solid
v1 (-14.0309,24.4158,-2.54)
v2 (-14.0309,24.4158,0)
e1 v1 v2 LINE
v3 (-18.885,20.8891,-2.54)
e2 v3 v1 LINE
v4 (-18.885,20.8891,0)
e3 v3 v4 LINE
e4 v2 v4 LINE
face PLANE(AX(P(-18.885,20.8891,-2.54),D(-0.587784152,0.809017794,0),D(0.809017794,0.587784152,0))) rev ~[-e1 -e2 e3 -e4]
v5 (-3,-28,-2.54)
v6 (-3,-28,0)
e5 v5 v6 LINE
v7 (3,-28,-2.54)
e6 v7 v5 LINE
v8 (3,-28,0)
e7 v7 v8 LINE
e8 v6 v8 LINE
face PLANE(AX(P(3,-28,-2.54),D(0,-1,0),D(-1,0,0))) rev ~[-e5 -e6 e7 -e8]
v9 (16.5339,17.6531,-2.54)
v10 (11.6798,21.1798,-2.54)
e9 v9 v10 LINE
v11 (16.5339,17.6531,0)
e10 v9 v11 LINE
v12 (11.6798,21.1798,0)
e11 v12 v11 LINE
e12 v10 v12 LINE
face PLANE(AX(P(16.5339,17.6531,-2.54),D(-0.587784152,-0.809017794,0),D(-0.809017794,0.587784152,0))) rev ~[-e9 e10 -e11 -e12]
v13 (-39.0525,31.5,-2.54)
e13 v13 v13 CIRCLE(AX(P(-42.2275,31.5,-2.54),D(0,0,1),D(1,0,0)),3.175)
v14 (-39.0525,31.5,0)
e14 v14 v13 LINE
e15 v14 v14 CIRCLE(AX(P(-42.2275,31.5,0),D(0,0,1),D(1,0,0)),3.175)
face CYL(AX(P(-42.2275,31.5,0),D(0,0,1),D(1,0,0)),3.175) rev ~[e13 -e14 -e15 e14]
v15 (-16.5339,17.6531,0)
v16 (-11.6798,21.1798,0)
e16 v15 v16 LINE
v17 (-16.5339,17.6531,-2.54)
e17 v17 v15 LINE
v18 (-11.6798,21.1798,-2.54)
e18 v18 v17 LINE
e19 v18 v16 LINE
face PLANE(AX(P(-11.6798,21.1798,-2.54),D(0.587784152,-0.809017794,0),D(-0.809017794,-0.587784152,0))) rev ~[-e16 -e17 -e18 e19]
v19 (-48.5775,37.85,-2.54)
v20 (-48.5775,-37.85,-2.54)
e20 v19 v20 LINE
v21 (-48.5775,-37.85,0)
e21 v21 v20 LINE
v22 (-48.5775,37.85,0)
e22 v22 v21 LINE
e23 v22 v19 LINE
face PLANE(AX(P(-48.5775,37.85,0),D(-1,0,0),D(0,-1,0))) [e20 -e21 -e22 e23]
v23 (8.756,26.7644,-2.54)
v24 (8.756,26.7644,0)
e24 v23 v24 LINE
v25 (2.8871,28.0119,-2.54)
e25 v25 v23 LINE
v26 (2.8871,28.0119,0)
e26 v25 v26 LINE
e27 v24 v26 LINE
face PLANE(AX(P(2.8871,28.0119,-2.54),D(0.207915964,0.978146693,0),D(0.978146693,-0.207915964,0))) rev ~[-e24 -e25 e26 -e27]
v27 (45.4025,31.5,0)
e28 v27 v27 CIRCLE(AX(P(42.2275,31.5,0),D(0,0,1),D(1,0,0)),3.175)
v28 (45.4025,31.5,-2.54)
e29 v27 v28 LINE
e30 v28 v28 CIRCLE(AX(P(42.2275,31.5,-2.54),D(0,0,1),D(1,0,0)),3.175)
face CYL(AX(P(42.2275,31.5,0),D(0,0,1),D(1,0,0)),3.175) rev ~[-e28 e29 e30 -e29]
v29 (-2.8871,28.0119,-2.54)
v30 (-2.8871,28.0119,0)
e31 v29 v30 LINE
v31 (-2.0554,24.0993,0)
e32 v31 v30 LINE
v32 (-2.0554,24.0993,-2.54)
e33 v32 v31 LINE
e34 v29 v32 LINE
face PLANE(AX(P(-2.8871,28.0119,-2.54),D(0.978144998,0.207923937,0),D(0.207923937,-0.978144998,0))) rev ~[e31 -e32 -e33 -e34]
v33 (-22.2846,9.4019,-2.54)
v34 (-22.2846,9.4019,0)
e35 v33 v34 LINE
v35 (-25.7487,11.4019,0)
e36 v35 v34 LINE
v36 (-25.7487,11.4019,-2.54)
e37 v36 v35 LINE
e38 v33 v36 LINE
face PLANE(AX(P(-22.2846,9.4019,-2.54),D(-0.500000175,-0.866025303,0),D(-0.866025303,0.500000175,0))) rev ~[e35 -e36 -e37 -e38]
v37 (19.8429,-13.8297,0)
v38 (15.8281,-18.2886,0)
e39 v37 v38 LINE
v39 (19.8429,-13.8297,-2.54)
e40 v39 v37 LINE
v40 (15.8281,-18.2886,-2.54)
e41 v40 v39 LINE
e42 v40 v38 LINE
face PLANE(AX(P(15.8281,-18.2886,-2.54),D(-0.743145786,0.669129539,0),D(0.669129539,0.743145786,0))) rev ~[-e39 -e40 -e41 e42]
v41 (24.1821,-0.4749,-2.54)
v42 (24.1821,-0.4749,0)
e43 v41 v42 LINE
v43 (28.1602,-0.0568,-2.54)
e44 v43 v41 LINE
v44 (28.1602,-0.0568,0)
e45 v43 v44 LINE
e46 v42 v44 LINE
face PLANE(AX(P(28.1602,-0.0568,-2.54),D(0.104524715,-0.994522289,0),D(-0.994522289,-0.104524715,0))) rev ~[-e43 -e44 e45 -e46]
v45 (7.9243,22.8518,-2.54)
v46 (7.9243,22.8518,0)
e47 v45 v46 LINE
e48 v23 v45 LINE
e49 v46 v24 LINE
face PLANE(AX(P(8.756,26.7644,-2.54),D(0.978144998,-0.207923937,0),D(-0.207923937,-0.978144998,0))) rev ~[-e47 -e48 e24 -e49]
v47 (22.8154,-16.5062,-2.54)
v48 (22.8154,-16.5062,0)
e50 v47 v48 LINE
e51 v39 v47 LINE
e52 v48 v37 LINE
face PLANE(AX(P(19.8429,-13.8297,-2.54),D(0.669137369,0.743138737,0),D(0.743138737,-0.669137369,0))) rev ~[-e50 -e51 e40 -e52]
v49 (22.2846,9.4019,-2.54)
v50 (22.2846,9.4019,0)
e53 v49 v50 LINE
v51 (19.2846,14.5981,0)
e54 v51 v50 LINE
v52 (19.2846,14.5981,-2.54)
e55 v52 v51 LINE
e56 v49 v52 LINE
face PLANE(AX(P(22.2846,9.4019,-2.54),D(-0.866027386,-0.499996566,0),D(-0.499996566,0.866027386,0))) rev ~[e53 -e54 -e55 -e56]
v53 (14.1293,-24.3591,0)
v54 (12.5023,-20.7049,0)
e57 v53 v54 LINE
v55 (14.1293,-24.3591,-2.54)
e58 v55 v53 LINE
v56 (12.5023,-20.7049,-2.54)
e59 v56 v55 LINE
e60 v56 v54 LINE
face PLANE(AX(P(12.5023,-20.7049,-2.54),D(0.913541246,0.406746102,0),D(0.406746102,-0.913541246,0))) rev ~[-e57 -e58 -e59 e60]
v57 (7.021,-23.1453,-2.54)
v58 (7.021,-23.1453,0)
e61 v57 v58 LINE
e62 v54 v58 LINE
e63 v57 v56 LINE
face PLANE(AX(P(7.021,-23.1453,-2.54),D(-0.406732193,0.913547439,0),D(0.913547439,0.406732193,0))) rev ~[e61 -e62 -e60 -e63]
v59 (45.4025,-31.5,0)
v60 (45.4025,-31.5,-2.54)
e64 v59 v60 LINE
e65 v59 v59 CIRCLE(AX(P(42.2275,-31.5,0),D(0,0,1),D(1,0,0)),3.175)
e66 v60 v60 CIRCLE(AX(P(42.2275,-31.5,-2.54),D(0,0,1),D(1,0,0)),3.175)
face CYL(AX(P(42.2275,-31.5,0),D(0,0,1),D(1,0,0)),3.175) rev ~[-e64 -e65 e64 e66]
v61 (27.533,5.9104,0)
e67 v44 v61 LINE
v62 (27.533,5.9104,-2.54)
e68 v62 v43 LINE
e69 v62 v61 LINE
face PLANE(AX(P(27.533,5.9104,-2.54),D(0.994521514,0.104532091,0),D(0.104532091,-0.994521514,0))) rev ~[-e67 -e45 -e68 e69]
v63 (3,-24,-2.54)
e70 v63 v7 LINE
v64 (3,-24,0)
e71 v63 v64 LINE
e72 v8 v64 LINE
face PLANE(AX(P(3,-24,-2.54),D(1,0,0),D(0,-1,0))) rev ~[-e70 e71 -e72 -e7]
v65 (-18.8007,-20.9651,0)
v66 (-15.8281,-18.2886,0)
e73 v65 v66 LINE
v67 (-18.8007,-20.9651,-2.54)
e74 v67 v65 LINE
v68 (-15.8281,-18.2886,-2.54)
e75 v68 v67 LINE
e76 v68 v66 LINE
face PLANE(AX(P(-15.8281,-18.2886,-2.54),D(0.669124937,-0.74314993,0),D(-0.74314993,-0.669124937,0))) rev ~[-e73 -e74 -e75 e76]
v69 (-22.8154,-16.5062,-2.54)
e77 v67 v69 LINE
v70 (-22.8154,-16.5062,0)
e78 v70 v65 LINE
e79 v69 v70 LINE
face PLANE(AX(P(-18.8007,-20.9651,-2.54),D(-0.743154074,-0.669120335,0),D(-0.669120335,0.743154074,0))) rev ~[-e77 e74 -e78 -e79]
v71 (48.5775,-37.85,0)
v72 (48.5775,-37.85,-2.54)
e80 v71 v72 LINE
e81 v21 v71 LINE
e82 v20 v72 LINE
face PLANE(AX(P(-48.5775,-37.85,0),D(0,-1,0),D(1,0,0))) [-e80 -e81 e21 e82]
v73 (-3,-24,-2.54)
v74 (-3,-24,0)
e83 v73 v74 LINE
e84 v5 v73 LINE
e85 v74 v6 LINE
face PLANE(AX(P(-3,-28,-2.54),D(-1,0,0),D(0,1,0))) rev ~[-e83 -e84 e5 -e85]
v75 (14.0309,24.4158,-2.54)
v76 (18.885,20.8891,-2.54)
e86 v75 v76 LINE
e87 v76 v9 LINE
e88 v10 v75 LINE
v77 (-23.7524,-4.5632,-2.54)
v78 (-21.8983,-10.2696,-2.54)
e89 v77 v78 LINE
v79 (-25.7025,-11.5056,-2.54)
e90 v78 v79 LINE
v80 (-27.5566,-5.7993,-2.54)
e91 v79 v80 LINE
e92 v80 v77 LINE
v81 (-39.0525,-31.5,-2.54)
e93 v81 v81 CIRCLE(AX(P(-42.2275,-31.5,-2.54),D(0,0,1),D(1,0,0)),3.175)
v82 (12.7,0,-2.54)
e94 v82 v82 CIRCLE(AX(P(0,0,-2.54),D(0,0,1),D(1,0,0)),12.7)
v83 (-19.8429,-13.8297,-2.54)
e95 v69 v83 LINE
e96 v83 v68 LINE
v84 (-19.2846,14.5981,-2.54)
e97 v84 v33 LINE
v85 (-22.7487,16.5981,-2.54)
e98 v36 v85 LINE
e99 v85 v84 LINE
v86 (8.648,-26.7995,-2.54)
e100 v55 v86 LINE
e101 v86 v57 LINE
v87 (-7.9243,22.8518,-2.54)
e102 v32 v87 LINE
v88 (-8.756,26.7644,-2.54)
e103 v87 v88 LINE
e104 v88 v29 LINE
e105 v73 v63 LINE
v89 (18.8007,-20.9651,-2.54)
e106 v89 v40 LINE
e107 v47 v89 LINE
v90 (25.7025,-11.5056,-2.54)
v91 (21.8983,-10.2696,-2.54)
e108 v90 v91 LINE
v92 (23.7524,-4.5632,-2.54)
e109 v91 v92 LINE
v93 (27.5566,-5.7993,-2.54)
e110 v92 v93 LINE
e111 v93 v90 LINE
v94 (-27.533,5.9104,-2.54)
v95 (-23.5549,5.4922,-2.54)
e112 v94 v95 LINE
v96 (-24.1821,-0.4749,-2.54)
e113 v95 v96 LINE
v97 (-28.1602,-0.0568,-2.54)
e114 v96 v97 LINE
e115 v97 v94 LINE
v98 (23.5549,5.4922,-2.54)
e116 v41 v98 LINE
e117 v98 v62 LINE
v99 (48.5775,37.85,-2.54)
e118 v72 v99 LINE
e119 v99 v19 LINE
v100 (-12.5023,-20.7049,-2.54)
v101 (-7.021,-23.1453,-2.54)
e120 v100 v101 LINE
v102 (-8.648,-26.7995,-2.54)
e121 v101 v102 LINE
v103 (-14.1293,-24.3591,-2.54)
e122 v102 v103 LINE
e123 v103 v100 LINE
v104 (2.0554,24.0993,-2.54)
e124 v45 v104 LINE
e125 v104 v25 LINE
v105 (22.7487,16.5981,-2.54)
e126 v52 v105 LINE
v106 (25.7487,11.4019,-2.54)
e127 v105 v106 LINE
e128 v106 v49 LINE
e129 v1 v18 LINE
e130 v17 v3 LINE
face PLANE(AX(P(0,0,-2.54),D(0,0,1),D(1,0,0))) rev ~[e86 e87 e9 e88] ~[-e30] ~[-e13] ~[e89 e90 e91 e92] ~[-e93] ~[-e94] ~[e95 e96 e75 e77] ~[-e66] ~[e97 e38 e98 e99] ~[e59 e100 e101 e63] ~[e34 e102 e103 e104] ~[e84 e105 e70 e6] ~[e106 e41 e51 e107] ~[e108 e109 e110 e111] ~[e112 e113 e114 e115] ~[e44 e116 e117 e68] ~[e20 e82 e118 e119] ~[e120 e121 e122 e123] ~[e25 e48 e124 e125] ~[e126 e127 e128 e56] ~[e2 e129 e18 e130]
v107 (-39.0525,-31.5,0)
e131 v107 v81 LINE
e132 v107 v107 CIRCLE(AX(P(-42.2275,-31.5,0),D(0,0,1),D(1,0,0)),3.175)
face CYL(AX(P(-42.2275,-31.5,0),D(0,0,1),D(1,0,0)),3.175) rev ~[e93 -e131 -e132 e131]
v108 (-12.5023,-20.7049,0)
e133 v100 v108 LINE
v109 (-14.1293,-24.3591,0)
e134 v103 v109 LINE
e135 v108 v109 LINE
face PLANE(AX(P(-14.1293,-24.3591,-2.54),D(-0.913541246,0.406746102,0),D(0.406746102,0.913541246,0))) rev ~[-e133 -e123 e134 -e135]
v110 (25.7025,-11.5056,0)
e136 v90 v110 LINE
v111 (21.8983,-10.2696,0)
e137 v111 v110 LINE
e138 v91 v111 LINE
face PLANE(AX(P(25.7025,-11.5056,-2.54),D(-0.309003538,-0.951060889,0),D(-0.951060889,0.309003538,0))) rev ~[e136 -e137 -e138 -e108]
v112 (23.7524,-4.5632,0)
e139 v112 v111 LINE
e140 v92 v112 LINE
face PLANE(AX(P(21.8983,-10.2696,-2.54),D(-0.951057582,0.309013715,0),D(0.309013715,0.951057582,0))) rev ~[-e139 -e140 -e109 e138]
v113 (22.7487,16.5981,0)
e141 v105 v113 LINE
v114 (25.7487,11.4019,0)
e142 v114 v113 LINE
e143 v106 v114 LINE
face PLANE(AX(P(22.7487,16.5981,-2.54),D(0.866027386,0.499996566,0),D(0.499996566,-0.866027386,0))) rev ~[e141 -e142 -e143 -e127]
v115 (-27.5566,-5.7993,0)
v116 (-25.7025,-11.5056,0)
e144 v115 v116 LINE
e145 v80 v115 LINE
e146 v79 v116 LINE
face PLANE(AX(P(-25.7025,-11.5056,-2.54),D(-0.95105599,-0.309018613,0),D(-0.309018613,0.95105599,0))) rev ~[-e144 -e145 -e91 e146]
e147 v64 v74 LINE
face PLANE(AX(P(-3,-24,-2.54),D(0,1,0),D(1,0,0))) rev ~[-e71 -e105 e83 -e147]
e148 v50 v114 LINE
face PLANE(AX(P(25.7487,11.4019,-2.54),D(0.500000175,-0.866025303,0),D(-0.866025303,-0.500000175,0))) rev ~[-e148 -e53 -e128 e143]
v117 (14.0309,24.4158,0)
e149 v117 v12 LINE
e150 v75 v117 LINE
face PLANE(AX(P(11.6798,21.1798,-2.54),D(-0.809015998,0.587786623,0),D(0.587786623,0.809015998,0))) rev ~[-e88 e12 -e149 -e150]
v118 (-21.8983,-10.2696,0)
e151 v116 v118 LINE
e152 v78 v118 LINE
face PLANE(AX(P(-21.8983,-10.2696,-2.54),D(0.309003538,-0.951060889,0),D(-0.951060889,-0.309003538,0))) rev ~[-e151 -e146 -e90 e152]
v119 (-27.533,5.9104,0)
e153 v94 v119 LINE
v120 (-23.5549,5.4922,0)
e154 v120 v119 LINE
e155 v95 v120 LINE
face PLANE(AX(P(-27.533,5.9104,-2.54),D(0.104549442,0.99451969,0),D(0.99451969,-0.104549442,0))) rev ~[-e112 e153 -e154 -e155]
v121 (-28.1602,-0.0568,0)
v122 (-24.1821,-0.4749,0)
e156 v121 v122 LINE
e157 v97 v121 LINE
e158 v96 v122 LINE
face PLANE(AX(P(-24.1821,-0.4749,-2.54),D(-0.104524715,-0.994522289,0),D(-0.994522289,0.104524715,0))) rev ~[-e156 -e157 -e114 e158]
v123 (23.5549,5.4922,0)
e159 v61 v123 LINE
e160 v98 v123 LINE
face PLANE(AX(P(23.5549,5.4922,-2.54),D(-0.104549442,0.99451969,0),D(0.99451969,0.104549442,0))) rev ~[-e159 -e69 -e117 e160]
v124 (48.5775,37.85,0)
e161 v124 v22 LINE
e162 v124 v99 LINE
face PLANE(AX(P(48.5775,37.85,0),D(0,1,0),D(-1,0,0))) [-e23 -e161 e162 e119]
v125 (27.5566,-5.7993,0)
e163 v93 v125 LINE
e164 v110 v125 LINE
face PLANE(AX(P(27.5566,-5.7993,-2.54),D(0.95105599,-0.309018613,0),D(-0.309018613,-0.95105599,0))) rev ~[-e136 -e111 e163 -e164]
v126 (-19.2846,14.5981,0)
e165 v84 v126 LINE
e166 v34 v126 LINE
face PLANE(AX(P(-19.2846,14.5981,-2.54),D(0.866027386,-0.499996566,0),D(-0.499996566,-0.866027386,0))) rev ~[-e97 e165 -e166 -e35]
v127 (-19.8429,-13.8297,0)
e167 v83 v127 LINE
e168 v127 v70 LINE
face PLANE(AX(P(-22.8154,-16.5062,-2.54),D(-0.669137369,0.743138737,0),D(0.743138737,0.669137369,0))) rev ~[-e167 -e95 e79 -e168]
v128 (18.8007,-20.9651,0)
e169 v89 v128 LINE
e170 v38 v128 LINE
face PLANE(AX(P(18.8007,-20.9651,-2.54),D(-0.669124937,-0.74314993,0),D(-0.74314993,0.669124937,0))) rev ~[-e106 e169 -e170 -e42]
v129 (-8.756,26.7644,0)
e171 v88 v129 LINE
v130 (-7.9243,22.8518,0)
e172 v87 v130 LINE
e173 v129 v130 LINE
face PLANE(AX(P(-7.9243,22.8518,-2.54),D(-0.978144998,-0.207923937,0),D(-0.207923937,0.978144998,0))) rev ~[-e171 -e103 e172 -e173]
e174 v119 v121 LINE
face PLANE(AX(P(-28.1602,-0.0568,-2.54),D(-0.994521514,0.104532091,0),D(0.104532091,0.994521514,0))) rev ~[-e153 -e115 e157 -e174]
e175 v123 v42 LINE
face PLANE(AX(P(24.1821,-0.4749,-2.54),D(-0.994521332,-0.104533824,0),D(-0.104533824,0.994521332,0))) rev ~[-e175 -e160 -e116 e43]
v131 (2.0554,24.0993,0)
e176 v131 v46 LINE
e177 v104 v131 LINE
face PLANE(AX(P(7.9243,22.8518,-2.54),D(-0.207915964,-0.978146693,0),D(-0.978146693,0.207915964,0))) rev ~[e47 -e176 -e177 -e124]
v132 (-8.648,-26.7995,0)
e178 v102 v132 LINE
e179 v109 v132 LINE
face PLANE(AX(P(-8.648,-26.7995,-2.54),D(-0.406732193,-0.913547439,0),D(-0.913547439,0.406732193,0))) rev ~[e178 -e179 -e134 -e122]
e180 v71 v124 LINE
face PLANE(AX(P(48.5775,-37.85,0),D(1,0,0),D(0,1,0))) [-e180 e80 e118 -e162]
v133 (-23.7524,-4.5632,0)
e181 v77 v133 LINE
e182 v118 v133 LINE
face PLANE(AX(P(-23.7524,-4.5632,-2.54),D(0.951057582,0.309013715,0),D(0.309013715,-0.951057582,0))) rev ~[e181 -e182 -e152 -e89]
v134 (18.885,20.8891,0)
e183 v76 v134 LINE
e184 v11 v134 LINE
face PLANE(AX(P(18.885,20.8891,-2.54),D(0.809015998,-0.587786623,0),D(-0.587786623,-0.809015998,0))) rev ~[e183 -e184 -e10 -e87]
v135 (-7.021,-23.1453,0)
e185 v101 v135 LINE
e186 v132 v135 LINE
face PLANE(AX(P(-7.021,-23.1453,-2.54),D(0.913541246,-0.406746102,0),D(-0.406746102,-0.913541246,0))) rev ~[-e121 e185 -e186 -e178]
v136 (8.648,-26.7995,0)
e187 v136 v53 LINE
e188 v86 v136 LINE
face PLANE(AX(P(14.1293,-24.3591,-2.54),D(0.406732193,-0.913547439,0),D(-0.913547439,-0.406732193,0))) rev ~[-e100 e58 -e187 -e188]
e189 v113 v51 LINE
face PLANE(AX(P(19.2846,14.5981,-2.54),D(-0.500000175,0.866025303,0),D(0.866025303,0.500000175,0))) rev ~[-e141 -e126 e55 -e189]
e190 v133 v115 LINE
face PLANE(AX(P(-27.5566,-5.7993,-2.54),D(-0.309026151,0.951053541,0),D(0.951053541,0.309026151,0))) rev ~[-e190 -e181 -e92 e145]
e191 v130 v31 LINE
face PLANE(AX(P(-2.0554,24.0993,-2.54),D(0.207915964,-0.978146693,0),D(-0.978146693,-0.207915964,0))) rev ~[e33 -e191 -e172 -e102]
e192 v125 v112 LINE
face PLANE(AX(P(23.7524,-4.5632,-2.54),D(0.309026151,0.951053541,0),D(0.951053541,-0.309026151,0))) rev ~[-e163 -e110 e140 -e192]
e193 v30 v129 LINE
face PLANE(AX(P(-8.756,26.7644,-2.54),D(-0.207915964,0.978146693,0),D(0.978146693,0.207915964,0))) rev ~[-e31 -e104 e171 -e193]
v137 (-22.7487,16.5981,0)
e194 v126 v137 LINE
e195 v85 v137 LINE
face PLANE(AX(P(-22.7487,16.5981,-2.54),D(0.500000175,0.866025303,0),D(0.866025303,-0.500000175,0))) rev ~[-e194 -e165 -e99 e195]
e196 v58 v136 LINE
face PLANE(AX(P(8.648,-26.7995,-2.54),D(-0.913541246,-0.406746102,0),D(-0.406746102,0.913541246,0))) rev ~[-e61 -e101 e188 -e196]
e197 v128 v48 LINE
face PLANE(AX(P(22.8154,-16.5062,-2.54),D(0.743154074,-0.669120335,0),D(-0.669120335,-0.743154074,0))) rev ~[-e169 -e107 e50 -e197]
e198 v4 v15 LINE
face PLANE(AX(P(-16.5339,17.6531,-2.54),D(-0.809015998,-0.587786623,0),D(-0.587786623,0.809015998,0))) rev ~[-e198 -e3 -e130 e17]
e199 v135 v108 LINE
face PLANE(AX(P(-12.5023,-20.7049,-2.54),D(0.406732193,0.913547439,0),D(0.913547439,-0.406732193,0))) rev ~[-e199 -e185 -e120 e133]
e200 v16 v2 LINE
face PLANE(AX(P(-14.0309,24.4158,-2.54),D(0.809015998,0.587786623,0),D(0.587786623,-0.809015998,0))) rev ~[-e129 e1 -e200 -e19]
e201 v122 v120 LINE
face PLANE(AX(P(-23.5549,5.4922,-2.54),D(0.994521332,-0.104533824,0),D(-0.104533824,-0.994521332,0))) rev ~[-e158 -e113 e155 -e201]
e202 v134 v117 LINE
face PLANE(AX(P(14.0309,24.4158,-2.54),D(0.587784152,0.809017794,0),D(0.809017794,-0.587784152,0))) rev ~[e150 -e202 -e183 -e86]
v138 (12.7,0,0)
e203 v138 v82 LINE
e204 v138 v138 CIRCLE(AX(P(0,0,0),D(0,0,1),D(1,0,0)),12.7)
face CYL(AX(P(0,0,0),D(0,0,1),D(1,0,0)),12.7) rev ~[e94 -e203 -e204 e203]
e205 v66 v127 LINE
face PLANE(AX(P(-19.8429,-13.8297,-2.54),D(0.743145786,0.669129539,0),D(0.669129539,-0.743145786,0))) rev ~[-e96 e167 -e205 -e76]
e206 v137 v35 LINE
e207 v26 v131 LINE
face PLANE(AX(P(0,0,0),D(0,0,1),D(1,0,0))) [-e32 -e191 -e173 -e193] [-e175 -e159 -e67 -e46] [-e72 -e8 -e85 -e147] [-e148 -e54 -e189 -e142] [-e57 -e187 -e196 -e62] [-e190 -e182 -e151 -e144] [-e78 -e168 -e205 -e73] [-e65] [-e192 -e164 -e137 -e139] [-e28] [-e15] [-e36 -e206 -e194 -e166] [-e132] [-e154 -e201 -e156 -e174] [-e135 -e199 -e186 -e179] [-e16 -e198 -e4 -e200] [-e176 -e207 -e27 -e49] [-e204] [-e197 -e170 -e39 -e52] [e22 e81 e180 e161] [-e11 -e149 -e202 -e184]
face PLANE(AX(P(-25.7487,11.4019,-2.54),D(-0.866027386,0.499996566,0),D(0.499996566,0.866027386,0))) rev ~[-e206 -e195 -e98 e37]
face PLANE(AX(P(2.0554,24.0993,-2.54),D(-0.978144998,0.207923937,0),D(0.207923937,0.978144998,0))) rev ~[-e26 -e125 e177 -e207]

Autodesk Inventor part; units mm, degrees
ref_plane "YZ Plane" through (0, 0, 0) normal (1, 0, 0) x (0, 1, 0)
ref_plane "XZ Plane" through (0, 0, 0) normal (0, 1, 0) x (-1, 0, 0)
ref_plane "XY Plane" through (0, 0, 0) normal (0, 0, 1) x (1, 0, 0)
sketch "Sketch1" plane through (0, 0, 0) normal (0, 0, 1) x (1, 0, 0)
  circle A0 centre (0, 0) radius 34
  dimension "d0" = 68
extrude "Extrusion1" add sketch "Sketch1" against normal blind 2.54
sketch "Sketch3" plane through (0, 0, -2.54) normal (0, 0, -1) x (-1, 0, 0)
  circle A0 centre (0, 0) radius 26 construction
  line L0 (3, -24) -> (-3, -24)
  line L1 (-3, -24) -> (-3, -28)
  line L2 (-3, -28) -> (3, -28)
  line L3 (3, -28) -> (3, -24)
  line L4 (3, -24) -> (-3, -28) construction
  line L5 (-3, -24) -> (3, -28) construction
  line L6 (8.648, -26.7995) -> (14.1293, -24.3591)
  line L7 (14.1293, -24.3591) -> (12.5023, -20.7049)
  line L8 (7.021, -23.1453) -> (8.648, -26.7995)
  line L9 (12.5023, -20.7049) -> (7.021, -23.1453)
  line L10 (18.8007, -20.9651) -> (22.8154, -16.5062)
  line L11 (22.8154, -16.5062) -> (19.8429, -13.8297)
  line L12 (15.8281, -18.2886) -> (18.8007, -20.9651)
  line L13 (19.8429, -13.8297) -> (15.8281, -18.2886)
  line L14 (25.7025, -11.5056) -> (27.5566, -5.7993)
  line L15 (27.5566, -5.7993) -> (23.7524, -4.5632)
  line L16 (21.8983, -10.2696) -> (25.7025, -11.5056)
  line L17 (23.7524, -4.5632) -> (21.8983, -10.2696)
  line L18 (28.1602, -0.0568) -> (27.533, 5.9104)
  line L19 (27.533, 5.9104) -> (23.5549, 5.4922)
  line L20 (24.1821, -0.4749) -> (28.1602, -0.0568)
  line L21 (23.5549, 5.4922) -> (24.1821, -0.4749)
  line L22 (25.7487, 11.4019) -> (22.7487, 16.5981)
  line L23 (22.7487, 16.5981) -> (19.2846, 14.5981)
  line L24 (22.2846, 9.4019) -> (25.7487, 11.4019)
  line L25 (19.2846, 14.5981) -> (22.2846, 9.4019)
  line L26 (18.885, 20.8891) -> (14.0309, 24.4158)
  line L27 (14.0309, 24.4158) -> (11.6798, 21.1798)
  line L28 (16.5339, 17.6531) -> (18.885, 20.8891)
  line L29 (11.6798, 21.1798) -> (16.5339, 17.6531)
  line L30 (8.756, 26.7644) -> (2.8871, 28.0119)
  line L31 (2.8871, 28.0119) -> (2.0554, 24.0993)
  line L32 (7.9243, 22.8518) -> (8.756, 26.7644)
  line L33 (2.0554, 24.0993) -> (7.9243, 22.8518)
  line L34 (-2.8871, 28.0119) -> (-8.756, 26.7644)
  line L35 (-8.756, 26.7644) -> (-7.9243, 22.8518)
  line L36 (-2.0554, 24.0993) -> (-2.8871, 28.0119)
  line L37 (-7.9243, 22.8518) -> (-2.0554, 24.0993)
  line L38 (-14.0309, 24.4158) -> (-18.885, 20.8891)
  line L39 (-18.885, 20.8891) -> (-16.5339, 17.6531)
  line L40 (-11.6798, 21.1798) -> (-14.0309, 24.4158)
  line L41 (-16.5339, 17.6531) -> (-11.6798, 21.1798)
  line L42 (-22.7487, 16.5981) -> (-25.7487, 11.4019)
  line L43 (-25.7487, 11.4019) -> (-22.2846, 9.4019)
  line L44 (-19.2846, 14.5981) -> (-22.7487, 16.5981)
  line L45 (-22.2846, 9.4019) -> (-19.2846, 14.5981)
  line L46 (-27.533, 5.9104) -> (-28.1602, -0.0568)
  line L47 (-28.1602, -0.0568) -> (-24.1821, -0.4749)
  line L48 (-23.5549, 5.4922) -> (-27.533, 5.9104)
  line L49 (-24.1821, -0.4749) -> (-23.5549, 5.4922)
  line L50 (-27.5566, -5.7993) -> (-25.7025, -11.5056)
  line L51 (-25.7025, -11.5056) -> (-21.8983, -10.2696)
  line L52 (-23.7524, -4.5632) -> (-27.5566, -5.7993)
  line L53 (-21.8983, -10.2696) -> (-23.7524, -4.5632)
  line L54 (-22.8154, -16.5062) -> (-18.8007, -20.9651)
  line L55 (-18.8007, -20.9651) -> (-15.8281, -18.2886)
  line L56 (-19.8429, -13.8297) -> (-22.8154, -16.5062)
  line L57 (-15.8281, -18.2886) -> (-19.8429, -13.8297)
  line L58 (-14.1293, -24.3591) -> (-8.648, -26.7995)
  line L59 (-8.648, -26.7995) -> (-7.021, -23.1453)
  line L60 (-12.5023, -20.7049) -> (-14.1293, -24.3591)
  line L61 (-7.021, -23.1453) -> (-12.5023, -20.7049)
  point P0 (0, -26)
  dimension "d6" = 52
  dimension "d7" = 4
  dimension "d8" = 6
  dimension "d11" = 360
extrude "Extrusion3" cut sketch "Sketch3" against normal through all
sketch "Sketch7" plane through (0, 0, 0) normal (0, 0, 1) x (1, 0, 0)
  line L0 (-48.5775, -37.85) -> (48.5775, -37.85)
  line L1 (48.5775, -37.85) -> (48.5775, 37.85)
  line L2 (48.5775, 37.85) -> (-48.5775, 37.85)
  line L3 (-48.5775, 37.85) -> (-48.5775, -37.85)
  line L4 (-48.5775, -37.85) -> (48.5775, 37.85) construction
  line L5 (48.5775, -37.85) -> (-48.5775, 37.85) construction
  circle A0 centre (0, 0) radius 34
  dimension "mountWidth" = 97.155
  dimension "mountHeight" = 75.7
extrude "Extrusion4" add sketch "Sketch7" against normal blind 2.54
sketch "Sketch8" plane through (0, 0, 0) normal (0, 0, 1) x (1, 0, 0)
  line L0 (-42.2275, -31.5) -> (42.2275, -31.5) construction
  line L1 (42.2275, -31.5) -> (42.2275, 31.5) construction
  line L2 (42.2275, 31.5) -> (-42.2275, 31.5) construction
  line L3 (-42.2275, 31.5) -> (-42.2275, -31.5) construction
  line L4 (-48.5775, -37.85) -> (48.5775, -37.85) construction
  line L5 (-48.5775, 37.85) -> (-48.5775, -37.85) construction
  line L6 (48.5775, -37.85) -> (48.5775, 37.85) construction
  line L7 (48.5775, 37.85) -> (-48.5775, 37.85) construction
  point P0 (0, 0)
  dimension "d47" = 6.35
  dimension "d48" = 6.35
  dimension "d49" = 6.35
  dimension "d50" = 6.35
sketch "Sketch10" plane through (0, 0, 0) normal (0, 0, 1) x (1, 0, 0)
  circle A0 centre (0, 0) radius 12.7
  dimension "d58" = 25.4
extrude "Extrusion5" cut sketch "Sketch10" against normal through all
sketch "Sketch11" plane through (0, 0, 0) normal (0, 0, 1) x (1, 0, 0)
  circle A0 centre (-42.2275, 31.5) radius 2.5527 projected
  circle A1 centre (-42.2275, 31.5) radius 3.175
  circle A2 centre (42.2275, 31.5) radius 2.5527 projected
  circle A3 centre (42.2275, 31.5) radius 3.175
  circle A4 centre (42.2275, -31.5) radius 2.5527 projected
  circle A5 centre (42.2275, -31.5) radius 3.175
  circle A6 centre (-42.2275, -31.5) radius 2.5527 projected
  circle A7 centre (-42.2275, -31.5) radius 3.175
  point P0 (0, 0)
  dimension "d61" = 6.35
extrude "Extrusion6" cut sketch "Sketch11" against normal through all contours A0 | A1 | A2 | A3 | A4 | A5 | A6 | A7
equation "\"d1\" = CoverDepth"
equation "\"d6\" = 2 * LightRingCenterRadius"
equation "\"depth\" = CoverDepth"
equation "\"CoverDepth\" = 2.54"
equation "\"LightRingCenterRadius\" = 26"
properties part number "2020LightRingCover" material "Polycarbonate, Clear"
